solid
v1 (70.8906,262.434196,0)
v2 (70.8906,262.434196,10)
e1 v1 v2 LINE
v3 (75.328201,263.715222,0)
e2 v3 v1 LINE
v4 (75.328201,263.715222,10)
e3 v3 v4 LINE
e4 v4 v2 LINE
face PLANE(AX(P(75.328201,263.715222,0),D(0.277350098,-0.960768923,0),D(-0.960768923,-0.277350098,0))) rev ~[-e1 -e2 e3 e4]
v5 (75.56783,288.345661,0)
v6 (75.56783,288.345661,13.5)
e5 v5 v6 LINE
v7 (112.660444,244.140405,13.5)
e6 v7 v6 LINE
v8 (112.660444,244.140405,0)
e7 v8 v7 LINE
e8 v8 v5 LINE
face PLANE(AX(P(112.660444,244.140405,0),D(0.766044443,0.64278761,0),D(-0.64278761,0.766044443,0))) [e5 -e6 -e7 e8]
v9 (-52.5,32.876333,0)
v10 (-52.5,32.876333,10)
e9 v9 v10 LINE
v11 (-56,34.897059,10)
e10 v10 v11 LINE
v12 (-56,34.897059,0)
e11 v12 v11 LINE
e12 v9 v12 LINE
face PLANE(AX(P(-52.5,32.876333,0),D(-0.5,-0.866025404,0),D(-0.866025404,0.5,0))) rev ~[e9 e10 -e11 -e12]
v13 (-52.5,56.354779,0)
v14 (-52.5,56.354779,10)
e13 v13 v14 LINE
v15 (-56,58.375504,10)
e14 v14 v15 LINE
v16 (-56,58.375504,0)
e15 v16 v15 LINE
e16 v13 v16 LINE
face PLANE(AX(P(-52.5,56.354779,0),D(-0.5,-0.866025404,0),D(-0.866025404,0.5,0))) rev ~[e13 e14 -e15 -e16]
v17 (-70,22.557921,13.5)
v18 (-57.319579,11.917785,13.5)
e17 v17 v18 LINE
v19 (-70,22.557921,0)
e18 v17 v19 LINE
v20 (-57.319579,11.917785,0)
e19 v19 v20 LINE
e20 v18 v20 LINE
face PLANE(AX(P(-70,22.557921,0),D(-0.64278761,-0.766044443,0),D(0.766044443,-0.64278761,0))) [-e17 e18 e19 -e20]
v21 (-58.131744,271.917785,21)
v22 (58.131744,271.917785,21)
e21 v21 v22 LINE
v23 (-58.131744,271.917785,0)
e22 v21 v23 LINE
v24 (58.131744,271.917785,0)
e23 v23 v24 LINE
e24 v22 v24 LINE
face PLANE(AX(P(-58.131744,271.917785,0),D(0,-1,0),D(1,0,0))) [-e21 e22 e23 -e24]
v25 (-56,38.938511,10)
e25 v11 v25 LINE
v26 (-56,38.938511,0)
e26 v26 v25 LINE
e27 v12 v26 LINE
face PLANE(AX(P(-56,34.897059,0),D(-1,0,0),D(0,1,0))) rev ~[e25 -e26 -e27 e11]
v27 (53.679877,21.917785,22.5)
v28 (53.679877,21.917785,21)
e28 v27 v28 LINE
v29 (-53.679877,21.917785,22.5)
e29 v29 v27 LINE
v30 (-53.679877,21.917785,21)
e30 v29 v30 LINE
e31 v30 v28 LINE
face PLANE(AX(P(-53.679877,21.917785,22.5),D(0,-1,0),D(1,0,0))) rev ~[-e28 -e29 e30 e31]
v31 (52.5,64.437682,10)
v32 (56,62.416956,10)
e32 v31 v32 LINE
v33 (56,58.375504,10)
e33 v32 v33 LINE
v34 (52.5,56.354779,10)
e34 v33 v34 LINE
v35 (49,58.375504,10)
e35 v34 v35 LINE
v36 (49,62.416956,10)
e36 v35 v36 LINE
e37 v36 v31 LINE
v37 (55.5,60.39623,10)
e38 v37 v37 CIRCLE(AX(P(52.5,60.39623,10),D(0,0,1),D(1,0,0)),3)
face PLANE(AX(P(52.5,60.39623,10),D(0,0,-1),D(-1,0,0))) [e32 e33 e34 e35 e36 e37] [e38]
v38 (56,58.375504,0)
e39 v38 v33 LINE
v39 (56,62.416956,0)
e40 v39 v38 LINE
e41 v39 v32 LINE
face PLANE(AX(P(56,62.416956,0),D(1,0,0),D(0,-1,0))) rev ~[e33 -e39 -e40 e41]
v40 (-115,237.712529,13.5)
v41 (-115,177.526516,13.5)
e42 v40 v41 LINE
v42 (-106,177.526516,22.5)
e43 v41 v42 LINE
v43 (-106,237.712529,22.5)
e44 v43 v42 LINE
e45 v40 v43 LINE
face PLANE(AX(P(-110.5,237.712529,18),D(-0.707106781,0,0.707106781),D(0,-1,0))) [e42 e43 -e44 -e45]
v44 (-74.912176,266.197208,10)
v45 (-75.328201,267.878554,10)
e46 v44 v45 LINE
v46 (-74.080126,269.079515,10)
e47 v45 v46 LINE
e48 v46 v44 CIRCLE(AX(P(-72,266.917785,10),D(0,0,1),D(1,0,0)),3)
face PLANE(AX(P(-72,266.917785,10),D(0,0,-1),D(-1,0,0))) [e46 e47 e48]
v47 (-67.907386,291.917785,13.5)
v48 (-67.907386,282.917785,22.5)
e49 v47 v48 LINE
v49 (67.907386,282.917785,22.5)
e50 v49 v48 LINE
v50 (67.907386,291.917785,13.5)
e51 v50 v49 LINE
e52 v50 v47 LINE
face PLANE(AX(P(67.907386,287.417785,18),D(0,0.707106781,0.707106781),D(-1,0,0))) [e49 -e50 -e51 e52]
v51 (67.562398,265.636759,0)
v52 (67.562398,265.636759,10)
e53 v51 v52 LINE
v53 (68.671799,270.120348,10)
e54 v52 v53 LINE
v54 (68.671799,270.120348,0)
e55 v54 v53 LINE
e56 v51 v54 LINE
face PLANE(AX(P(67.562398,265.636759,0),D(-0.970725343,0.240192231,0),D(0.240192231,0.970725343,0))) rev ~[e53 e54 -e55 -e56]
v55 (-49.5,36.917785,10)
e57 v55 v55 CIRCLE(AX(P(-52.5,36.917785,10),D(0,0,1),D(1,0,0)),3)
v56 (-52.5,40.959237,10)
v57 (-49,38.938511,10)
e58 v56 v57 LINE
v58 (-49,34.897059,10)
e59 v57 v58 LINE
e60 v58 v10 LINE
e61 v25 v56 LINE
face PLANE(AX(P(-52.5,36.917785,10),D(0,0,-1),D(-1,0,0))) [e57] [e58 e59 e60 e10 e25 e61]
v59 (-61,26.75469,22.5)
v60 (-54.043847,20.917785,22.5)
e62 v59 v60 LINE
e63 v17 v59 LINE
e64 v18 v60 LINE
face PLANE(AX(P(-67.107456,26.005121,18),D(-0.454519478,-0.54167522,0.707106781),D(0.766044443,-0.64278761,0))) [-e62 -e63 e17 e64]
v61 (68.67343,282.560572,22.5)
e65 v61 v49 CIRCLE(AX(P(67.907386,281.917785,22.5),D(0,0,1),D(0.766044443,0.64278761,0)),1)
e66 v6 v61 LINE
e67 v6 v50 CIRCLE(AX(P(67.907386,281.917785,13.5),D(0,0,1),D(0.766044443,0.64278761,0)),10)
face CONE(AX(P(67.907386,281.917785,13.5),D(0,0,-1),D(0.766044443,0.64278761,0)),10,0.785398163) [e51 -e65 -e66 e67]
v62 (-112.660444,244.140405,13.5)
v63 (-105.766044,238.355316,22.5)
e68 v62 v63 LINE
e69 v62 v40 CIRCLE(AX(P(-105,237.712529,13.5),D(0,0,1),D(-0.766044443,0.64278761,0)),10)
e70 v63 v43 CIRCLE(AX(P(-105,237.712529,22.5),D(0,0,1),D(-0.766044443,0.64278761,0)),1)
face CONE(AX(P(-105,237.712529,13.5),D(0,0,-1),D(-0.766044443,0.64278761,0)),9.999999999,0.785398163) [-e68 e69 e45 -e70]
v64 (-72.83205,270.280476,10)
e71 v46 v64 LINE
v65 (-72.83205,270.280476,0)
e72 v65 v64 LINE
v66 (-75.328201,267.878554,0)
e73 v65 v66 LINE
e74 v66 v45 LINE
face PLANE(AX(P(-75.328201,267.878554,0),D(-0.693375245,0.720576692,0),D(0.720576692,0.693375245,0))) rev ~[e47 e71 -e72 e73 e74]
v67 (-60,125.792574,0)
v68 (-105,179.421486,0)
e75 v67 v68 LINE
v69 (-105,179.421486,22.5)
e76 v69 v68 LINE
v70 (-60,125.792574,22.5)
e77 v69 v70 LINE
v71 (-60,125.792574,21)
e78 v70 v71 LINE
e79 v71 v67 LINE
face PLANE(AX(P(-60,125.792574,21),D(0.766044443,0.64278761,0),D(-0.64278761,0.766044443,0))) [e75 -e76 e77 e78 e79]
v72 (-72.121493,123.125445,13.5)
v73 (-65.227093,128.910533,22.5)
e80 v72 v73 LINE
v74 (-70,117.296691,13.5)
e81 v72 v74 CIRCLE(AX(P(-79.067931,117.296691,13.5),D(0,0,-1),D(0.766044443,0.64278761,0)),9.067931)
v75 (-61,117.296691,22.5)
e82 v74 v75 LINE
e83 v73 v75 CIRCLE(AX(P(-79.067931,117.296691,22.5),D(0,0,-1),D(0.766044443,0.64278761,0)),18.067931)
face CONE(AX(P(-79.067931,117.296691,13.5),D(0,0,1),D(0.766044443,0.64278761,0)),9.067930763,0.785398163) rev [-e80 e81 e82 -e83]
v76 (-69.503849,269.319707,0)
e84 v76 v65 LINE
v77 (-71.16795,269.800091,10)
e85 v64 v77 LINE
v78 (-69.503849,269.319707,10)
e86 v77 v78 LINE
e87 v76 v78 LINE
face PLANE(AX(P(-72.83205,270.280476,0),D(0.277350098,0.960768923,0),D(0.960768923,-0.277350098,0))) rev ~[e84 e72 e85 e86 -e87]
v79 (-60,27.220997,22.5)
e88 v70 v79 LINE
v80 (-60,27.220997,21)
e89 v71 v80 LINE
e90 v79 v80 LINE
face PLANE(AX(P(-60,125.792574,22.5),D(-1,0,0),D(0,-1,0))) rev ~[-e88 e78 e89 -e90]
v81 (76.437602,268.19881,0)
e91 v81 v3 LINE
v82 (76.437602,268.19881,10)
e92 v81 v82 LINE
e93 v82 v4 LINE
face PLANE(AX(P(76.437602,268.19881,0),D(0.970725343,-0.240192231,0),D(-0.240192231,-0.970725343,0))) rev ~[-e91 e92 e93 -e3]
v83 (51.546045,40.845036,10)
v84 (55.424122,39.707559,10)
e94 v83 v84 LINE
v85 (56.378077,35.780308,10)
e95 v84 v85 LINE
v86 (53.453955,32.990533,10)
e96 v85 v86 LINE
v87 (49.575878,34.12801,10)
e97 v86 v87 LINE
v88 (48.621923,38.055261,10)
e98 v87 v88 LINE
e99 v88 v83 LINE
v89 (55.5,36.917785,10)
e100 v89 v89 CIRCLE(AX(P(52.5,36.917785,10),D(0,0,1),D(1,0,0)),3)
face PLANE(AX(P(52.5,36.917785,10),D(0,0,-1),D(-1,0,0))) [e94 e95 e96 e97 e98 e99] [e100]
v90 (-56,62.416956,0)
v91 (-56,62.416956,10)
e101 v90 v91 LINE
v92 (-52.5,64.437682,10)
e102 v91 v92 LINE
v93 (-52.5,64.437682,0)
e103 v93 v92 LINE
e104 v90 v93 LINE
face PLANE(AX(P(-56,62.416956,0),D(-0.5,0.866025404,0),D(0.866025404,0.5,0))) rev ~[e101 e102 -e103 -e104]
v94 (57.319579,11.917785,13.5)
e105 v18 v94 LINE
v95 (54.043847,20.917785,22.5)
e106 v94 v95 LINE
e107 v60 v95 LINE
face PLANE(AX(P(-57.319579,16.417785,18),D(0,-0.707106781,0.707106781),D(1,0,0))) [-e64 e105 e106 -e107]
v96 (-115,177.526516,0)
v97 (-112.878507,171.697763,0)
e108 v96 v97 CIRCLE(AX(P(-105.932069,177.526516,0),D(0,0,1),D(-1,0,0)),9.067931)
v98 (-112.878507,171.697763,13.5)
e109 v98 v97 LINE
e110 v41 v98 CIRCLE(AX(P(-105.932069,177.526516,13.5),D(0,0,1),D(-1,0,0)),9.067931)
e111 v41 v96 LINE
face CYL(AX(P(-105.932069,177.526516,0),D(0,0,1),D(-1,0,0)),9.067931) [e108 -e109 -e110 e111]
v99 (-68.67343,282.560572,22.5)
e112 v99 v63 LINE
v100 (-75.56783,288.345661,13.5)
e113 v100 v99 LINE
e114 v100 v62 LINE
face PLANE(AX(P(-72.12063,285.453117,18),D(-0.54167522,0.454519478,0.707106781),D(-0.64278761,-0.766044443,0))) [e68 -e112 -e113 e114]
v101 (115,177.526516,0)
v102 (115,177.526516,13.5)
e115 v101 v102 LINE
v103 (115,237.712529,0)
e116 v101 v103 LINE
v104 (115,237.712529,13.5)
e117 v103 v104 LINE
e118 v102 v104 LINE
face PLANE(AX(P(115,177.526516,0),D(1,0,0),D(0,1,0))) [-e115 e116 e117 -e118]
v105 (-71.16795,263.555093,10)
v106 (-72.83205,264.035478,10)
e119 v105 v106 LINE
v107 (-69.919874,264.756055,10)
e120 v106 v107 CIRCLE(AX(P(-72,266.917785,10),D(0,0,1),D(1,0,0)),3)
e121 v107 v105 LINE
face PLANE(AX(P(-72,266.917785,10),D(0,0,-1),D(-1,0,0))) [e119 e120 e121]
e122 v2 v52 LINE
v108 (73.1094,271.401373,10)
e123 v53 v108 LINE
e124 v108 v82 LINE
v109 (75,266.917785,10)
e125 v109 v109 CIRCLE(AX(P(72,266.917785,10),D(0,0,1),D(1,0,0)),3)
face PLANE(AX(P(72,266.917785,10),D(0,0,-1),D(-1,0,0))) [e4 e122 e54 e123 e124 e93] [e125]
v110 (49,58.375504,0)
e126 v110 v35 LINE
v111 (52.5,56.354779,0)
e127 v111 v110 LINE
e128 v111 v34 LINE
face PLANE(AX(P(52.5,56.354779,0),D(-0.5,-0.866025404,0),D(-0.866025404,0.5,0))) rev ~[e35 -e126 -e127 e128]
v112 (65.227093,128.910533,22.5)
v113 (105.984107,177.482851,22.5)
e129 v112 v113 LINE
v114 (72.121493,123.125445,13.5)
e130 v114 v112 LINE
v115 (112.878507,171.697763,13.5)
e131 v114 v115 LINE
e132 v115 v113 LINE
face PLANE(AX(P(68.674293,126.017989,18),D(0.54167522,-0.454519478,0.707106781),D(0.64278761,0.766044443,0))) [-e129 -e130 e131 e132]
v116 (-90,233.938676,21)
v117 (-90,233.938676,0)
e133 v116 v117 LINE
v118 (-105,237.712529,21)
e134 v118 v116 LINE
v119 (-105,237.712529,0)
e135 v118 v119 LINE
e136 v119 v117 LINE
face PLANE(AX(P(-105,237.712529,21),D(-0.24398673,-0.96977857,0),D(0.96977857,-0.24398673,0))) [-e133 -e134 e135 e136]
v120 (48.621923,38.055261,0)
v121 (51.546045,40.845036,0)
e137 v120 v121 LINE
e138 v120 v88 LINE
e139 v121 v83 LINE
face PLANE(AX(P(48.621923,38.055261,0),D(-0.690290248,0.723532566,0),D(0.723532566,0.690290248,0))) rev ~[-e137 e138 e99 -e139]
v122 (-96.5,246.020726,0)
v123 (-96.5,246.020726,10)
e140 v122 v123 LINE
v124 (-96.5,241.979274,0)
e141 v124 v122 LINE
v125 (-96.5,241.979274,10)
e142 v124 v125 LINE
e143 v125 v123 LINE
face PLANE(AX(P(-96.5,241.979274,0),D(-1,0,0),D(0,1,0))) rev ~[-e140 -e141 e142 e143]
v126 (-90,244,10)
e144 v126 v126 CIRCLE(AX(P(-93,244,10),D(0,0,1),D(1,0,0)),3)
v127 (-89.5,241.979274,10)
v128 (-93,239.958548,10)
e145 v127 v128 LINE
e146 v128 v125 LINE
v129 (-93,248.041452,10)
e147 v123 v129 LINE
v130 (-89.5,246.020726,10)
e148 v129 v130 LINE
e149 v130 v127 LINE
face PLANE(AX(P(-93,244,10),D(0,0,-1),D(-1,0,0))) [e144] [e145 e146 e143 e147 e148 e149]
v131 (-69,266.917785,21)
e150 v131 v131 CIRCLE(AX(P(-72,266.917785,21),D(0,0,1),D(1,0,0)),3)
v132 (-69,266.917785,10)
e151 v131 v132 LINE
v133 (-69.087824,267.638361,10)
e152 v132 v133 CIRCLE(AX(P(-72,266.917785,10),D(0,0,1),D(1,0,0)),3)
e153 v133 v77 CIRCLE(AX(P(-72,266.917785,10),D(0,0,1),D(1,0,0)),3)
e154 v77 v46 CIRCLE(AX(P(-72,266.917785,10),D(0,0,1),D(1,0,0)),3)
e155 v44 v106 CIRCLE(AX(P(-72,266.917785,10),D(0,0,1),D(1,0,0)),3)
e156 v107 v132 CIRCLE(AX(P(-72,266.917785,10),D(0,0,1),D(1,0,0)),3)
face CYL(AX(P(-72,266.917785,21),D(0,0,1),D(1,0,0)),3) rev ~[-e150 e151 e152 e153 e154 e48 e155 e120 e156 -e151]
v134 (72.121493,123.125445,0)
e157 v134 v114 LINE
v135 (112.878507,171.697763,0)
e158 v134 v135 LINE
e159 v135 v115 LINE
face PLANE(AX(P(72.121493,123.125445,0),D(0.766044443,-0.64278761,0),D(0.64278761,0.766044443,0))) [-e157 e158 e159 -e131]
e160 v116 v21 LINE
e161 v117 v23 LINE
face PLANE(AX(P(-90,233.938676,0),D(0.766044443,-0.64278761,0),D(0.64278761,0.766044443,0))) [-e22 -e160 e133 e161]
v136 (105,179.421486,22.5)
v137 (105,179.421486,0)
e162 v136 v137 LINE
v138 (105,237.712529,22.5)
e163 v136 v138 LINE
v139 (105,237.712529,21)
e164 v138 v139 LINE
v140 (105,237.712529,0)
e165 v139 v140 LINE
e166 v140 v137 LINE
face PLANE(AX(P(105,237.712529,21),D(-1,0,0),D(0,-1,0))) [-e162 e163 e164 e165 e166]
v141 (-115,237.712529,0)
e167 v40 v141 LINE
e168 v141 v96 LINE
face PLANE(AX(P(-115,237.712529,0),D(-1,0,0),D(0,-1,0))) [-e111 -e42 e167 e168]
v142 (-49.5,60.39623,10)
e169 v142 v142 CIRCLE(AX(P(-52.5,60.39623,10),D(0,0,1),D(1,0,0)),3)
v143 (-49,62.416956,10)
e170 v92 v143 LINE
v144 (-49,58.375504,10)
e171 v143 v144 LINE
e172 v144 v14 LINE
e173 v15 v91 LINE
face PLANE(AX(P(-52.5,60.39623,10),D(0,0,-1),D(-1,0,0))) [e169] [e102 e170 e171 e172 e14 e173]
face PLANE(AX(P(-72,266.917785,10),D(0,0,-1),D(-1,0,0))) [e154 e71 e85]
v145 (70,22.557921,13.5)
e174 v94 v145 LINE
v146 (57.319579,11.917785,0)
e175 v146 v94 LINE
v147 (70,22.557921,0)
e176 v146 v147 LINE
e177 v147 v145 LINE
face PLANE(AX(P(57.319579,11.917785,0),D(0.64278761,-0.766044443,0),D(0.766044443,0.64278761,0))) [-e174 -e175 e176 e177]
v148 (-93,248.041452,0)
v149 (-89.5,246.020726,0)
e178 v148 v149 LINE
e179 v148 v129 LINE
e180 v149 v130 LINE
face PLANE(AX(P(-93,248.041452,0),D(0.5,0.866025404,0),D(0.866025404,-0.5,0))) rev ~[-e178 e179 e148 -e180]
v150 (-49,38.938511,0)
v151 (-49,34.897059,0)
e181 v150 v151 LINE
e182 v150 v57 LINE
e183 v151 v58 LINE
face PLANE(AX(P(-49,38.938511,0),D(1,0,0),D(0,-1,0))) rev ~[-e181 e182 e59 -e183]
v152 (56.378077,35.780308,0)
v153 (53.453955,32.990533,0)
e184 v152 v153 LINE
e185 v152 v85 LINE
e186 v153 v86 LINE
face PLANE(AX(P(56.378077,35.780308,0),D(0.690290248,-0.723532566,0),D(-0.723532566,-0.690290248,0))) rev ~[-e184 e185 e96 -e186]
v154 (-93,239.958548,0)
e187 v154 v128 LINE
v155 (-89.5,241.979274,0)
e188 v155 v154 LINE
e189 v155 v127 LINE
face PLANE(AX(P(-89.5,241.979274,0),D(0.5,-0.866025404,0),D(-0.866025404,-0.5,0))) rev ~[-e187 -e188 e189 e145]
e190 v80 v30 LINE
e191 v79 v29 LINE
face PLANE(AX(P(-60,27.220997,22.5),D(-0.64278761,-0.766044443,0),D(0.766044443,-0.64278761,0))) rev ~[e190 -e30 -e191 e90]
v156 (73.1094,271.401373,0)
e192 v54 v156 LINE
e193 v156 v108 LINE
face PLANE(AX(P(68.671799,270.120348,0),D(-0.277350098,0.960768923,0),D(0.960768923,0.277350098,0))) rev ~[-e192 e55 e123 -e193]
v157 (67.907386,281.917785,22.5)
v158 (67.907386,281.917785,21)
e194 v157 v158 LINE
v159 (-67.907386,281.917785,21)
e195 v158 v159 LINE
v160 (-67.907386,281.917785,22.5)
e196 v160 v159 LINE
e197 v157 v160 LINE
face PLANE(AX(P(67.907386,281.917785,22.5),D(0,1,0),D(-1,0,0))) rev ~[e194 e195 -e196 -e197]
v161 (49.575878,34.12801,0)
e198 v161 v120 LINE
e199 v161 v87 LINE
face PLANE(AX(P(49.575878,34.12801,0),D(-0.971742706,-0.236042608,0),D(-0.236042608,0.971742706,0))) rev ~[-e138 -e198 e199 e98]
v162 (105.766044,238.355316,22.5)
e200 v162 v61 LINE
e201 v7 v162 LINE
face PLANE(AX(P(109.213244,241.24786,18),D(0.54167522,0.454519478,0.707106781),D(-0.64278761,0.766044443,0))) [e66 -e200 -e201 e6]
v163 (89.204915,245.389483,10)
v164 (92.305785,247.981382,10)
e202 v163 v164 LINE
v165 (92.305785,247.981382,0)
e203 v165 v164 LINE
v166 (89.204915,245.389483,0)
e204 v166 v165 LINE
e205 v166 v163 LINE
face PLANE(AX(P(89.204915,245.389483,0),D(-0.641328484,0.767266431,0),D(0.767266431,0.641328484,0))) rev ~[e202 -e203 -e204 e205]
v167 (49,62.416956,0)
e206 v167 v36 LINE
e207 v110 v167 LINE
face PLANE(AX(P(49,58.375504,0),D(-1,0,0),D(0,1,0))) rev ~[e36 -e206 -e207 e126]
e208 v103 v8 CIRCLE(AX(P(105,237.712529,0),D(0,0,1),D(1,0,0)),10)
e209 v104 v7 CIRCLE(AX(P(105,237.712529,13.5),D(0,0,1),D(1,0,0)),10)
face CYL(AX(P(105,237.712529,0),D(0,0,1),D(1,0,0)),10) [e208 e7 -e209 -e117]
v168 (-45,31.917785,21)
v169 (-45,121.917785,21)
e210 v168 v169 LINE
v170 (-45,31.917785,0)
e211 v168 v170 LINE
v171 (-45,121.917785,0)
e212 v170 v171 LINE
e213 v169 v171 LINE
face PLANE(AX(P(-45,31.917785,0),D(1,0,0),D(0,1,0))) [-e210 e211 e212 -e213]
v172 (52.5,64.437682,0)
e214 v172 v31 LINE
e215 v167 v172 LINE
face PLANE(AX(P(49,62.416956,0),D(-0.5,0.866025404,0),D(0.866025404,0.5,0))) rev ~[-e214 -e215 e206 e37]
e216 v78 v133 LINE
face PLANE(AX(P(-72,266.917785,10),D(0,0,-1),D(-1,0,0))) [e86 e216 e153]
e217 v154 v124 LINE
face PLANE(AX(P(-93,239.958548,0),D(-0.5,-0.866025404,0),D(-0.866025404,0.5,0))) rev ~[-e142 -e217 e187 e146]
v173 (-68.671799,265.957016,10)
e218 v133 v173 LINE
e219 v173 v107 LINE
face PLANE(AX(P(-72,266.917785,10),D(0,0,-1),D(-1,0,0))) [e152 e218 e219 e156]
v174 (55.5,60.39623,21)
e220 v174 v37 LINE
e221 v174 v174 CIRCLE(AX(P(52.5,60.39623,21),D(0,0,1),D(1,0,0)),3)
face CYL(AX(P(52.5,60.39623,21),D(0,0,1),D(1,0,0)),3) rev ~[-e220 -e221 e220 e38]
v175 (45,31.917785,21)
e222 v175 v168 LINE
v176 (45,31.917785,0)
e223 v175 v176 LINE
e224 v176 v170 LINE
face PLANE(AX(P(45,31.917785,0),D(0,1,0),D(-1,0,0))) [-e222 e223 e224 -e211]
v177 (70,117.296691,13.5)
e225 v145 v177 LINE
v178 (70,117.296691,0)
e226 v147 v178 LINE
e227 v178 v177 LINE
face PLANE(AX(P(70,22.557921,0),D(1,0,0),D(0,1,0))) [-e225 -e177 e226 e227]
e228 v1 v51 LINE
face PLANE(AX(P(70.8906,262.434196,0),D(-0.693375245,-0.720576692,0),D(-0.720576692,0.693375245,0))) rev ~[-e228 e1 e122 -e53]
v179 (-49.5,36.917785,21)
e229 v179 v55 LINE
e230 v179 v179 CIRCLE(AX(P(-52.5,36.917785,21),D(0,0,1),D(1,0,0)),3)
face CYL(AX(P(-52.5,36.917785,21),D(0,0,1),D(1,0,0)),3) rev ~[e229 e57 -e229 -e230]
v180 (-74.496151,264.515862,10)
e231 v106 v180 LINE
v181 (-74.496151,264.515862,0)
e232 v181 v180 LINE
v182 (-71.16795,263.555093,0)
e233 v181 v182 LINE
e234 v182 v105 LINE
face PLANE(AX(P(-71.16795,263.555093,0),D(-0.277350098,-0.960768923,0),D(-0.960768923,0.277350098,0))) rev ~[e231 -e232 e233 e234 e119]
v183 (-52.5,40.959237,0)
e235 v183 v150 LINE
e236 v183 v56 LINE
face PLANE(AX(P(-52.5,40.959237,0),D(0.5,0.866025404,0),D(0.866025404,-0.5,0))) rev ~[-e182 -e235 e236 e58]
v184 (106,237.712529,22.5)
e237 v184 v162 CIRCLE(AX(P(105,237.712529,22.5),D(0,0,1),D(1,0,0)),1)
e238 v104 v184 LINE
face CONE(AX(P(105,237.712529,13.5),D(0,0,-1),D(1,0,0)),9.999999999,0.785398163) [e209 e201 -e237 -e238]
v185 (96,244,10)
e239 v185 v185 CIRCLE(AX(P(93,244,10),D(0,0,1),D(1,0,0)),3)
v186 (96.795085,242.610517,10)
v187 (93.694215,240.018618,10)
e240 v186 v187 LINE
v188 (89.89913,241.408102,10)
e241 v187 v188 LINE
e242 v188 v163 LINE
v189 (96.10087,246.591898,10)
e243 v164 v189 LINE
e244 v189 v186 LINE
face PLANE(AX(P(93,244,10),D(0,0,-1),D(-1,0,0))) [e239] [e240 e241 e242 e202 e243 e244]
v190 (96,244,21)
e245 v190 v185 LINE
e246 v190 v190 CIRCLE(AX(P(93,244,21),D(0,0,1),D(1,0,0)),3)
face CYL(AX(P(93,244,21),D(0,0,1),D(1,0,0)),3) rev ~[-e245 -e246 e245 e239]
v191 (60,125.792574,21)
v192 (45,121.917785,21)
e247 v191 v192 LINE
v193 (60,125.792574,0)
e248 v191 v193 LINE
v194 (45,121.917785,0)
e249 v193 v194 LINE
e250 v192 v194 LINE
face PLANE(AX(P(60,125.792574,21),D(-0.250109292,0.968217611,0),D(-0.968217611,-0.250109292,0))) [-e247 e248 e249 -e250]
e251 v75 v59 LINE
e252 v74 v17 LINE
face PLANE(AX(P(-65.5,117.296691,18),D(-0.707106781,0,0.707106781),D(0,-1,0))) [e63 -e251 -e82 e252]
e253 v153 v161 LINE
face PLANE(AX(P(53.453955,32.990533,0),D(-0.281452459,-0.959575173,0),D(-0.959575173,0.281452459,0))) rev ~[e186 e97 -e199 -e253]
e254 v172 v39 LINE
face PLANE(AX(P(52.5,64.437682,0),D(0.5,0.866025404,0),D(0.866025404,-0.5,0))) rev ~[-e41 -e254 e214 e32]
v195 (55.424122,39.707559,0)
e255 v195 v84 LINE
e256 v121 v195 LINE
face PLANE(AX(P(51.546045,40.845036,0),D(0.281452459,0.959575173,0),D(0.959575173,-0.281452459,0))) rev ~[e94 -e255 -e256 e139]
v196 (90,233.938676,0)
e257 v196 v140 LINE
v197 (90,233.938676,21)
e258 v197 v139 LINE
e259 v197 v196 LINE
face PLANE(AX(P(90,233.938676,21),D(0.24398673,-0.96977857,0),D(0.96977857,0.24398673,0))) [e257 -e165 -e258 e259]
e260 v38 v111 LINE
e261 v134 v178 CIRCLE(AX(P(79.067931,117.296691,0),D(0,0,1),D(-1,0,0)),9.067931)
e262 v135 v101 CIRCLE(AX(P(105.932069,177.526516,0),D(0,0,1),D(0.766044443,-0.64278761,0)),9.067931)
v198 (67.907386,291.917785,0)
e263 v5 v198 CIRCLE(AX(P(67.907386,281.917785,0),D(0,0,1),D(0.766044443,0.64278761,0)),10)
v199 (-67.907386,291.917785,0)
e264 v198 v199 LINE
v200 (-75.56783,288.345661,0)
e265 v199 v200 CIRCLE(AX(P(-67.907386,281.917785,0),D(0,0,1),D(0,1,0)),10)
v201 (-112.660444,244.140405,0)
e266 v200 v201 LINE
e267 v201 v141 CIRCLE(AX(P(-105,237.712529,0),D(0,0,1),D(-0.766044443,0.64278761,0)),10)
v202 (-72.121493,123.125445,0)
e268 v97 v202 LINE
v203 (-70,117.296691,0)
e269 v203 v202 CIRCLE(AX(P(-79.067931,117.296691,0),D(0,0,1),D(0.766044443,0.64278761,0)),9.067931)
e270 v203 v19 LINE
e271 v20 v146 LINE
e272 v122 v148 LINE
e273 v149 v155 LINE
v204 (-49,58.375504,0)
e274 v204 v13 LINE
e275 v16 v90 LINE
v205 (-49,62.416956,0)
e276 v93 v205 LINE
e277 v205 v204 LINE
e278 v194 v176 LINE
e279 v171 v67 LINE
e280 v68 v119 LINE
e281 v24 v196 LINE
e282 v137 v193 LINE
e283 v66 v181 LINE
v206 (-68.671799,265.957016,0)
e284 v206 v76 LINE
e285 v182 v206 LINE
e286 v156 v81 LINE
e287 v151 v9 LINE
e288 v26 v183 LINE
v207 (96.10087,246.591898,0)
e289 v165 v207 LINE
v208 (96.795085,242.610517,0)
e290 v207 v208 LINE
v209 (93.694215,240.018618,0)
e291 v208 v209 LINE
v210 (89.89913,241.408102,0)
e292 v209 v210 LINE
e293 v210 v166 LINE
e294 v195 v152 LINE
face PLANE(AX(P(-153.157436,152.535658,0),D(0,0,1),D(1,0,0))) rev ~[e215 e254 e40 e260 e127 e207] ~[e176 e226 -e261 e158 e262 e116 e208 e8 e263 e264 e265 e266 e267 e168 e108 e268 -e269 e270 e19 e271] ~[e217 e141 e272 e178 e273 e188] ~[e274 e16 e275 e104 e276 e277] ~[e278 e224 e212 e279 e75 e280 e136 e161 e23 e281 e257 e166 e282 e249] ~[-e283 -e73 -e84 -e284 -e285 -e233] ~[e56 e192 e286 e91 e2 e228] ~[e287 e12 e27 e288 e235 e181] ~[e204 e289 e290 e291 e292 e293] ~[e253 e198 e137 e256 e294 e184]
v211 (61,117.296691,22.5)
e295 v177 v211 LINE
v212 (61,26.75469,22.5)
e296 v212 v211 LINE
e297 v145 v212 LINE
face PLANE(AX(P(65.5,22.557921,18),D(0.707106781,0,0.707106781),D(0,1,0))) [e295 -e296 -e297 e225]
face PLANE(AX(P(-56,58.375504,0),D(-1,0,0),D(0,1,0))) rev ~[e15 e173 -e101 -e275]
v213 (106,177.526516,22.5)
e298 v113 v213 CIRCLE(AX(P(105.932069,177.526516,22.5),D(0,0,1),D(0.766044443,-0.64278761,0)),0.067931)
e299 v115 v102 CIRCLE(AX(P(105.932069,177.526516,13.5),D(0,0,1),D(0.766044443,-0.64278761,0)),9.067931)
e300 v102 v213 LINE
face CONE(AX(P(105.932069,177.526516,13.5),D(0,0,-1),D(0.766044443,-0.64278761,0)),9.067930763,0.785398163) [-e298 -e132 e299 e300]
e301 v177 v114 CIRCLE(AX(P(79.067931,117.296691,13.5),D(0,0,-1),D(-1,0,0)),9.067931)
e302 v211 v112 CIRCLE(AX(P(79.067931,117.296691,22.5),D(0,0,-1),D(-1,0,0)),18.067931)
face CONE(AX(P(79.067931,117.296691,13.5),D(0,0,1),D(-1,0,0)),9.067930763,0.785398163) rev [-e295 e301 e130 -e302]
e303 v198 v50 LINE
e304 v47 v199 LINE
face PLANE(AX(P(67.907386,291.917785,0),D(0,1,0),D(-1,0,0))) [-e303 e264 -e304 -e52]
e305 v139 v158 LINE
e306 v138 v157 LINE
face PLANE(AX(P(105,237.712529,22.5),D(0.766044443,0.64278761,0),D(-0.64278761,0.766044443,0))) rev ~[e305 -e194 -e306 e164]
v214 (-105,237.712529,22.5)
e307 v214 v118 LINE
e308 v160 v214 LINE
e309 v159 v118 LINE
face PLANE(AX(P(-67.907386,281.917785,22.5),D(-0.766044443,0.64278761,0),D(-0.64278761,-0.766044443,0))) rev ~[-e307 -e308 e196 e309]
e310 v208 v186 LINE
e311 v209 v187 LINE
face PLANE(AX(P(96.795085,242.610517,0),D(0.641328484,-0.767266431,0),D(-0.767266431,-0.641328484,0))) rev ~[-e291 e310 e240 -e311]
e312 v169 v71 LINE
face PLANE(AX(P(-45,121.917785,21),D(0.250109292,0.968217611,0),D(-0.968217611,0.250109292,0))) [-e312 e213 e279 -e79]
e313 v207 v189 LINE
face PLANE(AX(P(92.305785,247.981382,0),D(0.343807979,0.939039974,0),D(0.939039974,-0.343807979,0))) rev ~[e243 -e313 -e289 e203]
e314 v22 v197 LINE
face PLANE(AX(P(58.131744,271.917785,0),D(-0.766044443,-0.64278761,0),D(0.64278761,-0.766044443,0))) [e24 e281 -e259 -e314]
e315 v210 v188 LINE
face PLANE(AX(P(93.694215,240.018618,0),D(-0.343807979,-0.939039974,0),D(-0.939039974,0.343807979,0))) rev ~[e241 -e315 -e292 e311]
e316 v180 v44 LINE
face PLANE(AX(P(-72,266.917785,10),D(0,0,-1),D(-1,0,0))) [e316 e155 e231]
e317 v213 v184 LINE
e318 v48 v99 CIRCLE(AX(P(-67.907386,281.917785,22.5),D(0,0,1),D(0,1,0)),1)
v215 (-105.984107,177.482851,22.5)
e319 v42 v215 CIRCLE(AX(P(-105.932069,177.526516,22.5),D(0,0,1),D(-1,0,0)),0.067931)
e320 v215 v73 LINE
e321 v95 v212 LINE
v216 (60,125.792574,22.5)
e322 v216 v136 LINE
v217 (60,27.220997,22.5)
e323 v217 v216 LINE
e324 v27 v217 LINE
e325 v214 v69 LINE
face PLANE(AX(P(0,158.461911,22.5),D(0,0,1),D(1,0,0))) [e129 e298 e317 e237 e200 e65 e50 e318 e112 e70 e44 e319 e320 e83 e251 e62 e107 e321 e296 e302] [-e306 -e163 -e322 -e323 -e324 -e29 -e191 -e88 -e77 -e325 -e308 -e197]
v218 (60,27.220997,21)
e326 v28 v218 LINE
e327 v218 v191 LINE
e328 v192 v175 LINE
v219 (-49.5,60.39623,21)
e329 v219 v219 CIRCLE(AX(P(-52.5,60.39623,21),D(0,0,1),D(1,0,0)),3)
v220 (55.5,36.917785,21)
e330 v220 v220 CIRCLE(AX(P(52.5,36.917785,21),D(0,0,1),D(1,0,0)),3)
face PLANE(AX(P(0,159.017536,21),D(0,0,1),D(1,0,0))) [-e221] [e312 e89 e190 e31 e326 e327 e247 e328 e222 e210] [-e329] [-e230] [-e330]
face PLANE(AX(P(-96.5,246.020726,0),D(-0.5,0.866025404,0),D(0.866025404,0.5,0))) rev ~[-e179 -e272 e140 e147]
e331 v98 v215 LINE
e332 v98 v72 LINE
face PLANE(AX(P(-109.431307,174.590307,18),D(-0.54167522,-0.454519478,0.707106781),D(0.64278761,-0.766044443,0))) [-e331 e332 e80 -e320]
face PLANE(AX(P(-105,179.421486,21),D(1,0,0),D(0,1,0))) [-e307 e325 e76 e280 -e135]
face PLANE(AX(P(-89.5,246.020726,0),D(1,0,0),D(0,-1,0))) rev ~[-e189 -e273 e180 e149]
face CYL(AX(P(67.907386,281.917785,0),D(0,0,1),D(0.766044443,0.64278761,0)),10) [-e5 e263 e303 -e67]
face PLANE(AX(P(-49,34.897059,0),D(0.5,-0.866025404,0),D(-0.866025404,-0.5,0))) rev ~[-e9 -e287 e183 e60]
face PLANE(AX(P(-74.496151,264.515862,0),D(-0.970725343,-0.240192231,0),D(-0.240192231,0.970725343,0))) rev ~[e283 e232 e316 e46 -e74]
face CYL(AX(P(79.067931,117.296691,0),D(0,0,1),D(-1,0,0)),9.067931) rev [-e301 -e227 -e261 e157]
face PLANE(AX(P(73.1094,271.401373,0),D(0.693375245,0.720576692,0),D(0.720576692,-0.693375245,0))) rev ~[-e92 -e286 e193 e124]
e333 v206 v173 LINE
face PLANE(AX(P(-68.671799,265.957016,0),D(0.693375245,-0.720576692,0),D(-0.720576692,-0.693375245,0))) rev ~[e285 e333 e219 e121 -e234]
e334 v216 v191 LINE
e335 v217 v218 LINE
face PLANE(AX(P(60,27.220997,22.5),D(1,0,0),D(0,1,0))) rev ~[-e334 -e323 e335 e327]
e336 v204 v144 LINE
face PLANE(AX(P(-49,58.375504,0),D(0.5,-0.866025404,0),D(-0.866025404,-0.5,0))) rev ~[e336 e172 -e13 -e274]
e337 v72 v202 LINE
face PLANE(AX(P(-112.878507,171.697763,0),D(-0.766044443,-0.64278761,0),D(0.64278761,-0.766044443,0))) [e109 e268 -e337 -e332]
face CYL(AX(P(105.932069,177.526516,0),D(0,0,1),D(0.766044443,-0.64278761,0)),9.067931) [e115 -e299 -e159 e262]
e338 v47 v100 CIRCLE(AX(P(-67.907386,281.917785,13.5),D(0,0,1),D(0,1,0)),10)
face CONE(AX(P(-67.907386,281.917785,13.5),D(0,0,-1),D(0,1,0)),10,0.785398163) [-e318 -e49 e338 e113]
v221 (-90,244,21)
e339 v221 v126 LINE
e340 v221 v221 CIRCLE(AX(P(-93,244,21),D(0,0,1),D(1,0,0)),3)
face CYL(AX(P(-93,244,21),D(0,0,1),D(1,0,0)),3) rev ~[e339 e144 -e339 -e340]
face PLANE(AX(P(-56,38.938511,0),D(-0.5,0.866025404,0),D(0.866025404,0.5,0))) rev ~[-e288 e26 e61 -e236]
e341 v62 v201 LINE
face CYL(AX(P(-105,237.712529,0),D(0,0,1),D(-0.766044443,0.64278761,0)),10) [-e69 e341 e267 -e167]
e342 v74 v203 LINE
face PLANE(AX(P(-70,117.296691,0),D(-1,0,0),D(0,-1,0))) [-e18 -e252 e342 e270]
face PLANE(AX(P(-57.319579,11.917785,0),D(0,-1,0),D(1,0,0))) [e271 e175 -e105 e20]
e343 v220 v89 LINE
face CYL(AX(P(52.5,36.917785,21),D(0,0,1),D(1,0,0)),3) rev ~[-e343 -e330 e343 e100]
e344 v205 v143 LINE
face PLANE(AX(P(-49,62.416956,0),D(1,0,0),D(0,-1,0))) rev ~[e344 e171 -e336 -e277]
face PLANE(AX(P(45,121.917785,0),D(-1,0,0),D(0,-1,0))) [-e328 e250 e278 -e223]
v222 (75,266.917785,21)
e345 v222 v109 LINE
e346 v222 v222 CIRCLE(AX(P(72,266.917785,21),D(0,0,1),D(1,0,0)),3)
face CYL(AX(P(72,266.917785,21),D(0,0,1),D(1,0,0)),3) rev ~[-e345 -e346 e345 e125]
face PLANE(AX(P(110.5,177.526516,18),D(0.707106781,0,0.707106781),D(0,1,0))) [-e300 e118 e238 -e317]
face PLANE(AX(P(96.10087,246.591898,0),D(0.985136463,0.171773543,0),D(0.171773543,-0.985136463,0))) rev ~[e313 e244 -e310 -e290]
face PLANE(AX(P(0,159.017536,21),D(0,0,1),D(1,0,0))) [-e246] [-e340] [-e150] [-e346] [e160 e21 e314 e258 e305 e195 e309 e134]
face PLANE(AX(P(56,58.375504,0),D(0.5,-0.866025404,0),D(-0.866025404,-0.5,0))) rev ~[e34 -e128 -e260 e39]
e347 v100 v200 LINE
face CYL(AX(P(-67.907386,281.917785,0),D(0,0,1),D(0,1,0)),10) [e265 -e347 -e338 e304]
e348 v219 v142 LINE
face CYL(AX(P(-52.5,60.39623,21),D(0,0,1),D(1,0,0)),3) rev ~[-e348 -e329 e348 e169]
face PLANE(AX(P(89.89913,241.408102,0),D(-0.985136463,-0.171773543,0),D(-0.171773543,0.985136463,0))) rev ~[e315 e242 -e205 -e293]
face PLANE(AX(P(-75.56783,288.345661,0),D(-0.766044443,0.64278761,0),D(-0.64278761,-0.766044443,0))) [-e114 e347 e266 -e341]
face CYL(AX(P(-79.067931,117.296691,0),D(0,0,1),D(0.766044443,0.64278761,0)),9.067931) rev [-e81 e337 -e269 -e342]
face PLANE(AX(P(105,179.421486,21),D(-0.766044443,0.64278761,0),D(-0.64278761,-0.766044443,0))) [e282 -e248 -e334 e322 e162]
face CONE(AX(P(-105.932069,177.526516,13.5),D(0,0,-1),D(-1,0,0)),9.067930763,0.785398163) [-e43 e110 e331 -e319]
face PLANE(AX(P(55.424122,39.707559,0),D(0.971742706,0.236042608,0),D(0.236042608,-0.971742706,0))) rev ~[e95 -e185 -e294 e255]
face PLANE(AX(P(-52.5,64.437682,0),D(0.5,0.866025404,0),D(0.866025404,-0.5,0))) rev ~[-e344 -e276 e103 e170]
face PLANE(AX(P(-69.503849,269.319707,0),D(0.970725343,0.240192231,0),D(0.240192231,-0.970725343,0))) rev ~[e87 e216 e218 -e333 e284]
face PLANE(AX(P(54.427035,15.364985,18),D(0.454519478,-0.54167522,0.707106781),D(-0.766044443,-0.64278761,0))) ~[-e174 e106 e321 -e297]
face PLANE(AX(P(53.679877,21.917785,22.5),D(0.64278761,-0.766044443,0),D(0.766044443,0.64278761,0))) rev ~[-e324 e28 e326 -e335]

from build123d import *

# Parameters (mm, degrees)
RESSALTO_EXTRUS_O1_DEPTH = 22.5
CHANFRO1_SIZE            = 9
CORTE_EXTRUS_O1_REACH    = 24.5
ESBO_O3_W                = 1139.230904301
ESBO_O3_H                = 709.798033895
CORTE_EXTRUS_O5_DEPTH    = 1.5
ESBO_O5_R                = 3
CORTE_EXTRUS_O6_DEPTH    = 22
CORTE_EXTRUS_O8_DEPTH    = 10
CORTE_EXTRUS_O9_DEPTH    = 22


with BuildPart() as part:
    # Esboço1 → Ressalto-extrusão1 (new body, symmetric)
    with BuildSketch(Plane.XY):
        with BuildLine():
            Line((-57.319579452, 11.917784657), (57.319579452, 11.917784657))
            Line((57.319579452, 11.917784657), (70, 22.557920862))
            Line((70, 22.557920862), (70, 117.296691049))
            ThreePointArc((70, 117.296691049), (70.546863139, 120.39810603), (72.121492792, 123.125444592))
            Line((72.121492792, 123.125444592), (112.878507208, 171.697762944))
            ThreePointArc((112.878507208, 171.697762944), (114.453136861, 174.425101506), (115, 177.526516487))
            Line((115, 177.526516487), (115, 237.712528581))
            ThreePointArc((115, 237.712528581), (114.396926208, 241.132730014), (112.660444431, 244.140404678))
            Line((112.660444431, 244.140404678), (75.567830361, 288.345660754))
            ThreePointArc((75.567830361, 288.345660754), (72.133568548, 290.980862527), (67.90738593, 291.917784657))
            Line((67.90738593, 291.917784657), (-67.90738593, 291.917784657))
            ThreePointArc((-67.90738593, 291.917784657), (-72.133568548, 290.980862527), (-75.567830361, 288.345660754))
            Line((-75.567830361, 288.345660754), (-112.660444431, 244.140404678))
            ThreePointArc((-112.660444431, 244.140404678), (-114.396926208, 241.132730014), (-115, 237.712528581))
            Line((-115, 237.712528581), (-115, 177.526516487))
            ThreePointArc((-115, 177.526516487), (-114.453136861, 174.425101506), (-112.878507208, 171.697762944))
            Line((-112.878507208, 171.697762944), (-72.121492792, 123.125444592))
            ThreePointArc((-72.121492792, 123.125444592), (-70.546863139, 120.39810603), (-70, 117.296691049))
            Line((-70, 117.296691049), (-70, 22.557920862))
            Line((-70, 22.557920862), (-57.319579452, 11.917784657))
        make_face()
        Polygon((-90, 175.546696324), (-90, 233.938676426), (-58.131744291, 271.917784657), (58.131744291, 271.917784657), (90, 233.938676426), (90, 175.546696324), (45, 121.917784657), (45, 31.917784657), (-45, 31.917784657), (-45, 121.917784657), align=None, mode=Mode.SUBTRACT)
    extrude(amount=RESSALTO_EXTRUS_O1_DEPTH, both=True)

    # Chanfro1
    chanfro1_edges = [part.edges().sort_by_distance(p)[0] for p in [
        (70, 69.927305955, 22.5),
        (70.546863139, 120.39810603, 22.5),
        (92.5, 147.411603768, 22.5),
        (114.453136861, 174.425101506, 22.5),
        (115, 207.619522534, 22.5),
        (114.396926208, 241.132730014, 22.5),
        (94.114137396, 266.243032716, 22.5),
        (72.133568548, 290.980862527, 22.5),
        (0, 291.917784657, 22.5),
        (-72.133568548, 290.980862527, 22.5),
        (-94.114137396, 266.243032716, 22.5),
        (-114.396926208, 241.132730014, 22.5),
        (-115, 207.619522534, 22.5),
        (-114.453136861, 174.425101506, 22.5),
        (-92.5, 147.411603768, 22.5),
        (-70.546863139, 120.39810603, 22.5),
        (-70, 69.927305955, 22.5),
        (-63.659789726, 17.23785276, 22.5),
        (0, 11.917784657, 22.5),
        (63.659789726, 17.23785276, 22.5),
    ]]
    chamfer(chanfro1_edges, length=CHANFRO1_SIZE)

    # Esboço3 → Corte-extrusão1 (cut, up to next)
    with BuildSketch(Plane.XY, mode=Mode.PRIVATE) as corte_extrus_o1_sk1:
        with Locations((-153.157436203, 152.53565808)):
            Rectangle(ESBO_O3_W, ESBO_O3_H)
    corte_extrus_o1_tool1 = extrude(corte_extrus_o1_sk1.sketch, amount=-CORTE_EXTRUS_O1_REACH, mode=Mode.PRIVATE) & part.part
    add(corte_extrus_o1_tool1.solids().sort_by_distance((-153.157436, 152.535658, 0))[0], mode=Mode.SUBTRACT)

    # Esboço4 → Corte-extrusão5 (cut)
    with BuildSketch(Plane.XY.offset(22.5)):
        Polygon((-60, 27.220997444), (-53.679877109, 21.917784657), (53.679877109, 21.917784657), (60, 27.220997444), (60, 125.792574104), (105, 179.421485771), (105, 237.712528581), (67.90738593, 281.917784657), (-67.90738593, 281.917784657), (-105, 237.712528581), (-105, 179.421485771), (-60, 125.792574104), align=None)
        Polygon((-90, 175.546696324), (-90, 233.938676426), (-58.131744291, 271.917784657), (58.131744291, 271.917784657), (90, 233.938676426), (90, 175.546696324), (45, 121.917784657), (45, 31.917784657), (-45, 31.917784657), (-45, 121.917784657), align=None, mode=Mode.SUBTRACT)
    extrude(amount=-CORTE_EXTRUS_O5_DEPTH, mode=Mode.SUBTRACT)

    # Esboço5 → Corte-extrusão6 (cut, through all)
    with BuildSketch(Plane.XY.offset(21)):
        with Locations((-93, 244)):
            Circle(ESBO_O5_R)
        with Locations((-52.5, 60.396230411)):
            Circle(ESBO_O5_R)
        with Locations((-72, 266.917784657)):
            Circle(ESBO_O5_R)
        with Locations((-52.5, 36.917784657)):
            Circle(ESBO_O5_R)
        with Locations((52.5, 36.917784657)):
            Circle(ESBO_O5_R)
        with Locations((72, 266.917784657)):
            Circle(ESBO_O5_R)
        with Locations((52.5, 60.396230411)):
            Circle(ESBO_O5_R)
        with Locations((93, 244)):
            Circle(ESBO_O5_R)
    extrude(amount=-CORTE_EXTRUS_O6_DEPTH, mode=Mode.SUBTRACT)

    # Esboço7 → Corte-extrusão8 (cut)
    with BuildSketch(Plane(origin=(0, 0, 0), x_dir=(-1, 0, 0), z_dir=(0, 0, -1))):
        Polygon((-73.109400392, 271.401372964), (-76.43760157, 268.198809887), (-75.328201177, 263.715221581), (-70.890599608, 262.434196351), (-67.56239843, 265.636759427), (-68.671798823, 270.120347733), align=None)
        Polygon((-92.305785489, 247.981381613), (-96.100870363, 246.591898209), (-96.795084874, 242.610516596), (-93.694214511, 240.018618387), (-89.899129637, 241.408101791), (-89.204915126, 245.389483404), align=None)
        Polygon((93, 248.041451884), (89.5, 246.020725942), (89.5, 241.979274058), (93, 239.958548116), (96.5, 241.979274058), (96.5, 246.020725942), align=None)
        Polygon((72.832050294, 270.280475887), (69.503849117, 269.319706964), (68.671798823, 265.957015734), (71.167949706, 263.555093427), (74.496150883, 264.51586235), (75.328201177, 267.87855358), align=None)
        Polygon((-52.5, 64.437682295), (-56, 62.416956353), (-56, 58.375504468), (-52.5, 56.354778526), (-49, 58.375504468), (-49, 62.416956353), align=None)
        Polygon((52.5, 64.437682295), (49, 62.416956353), (49, 58.375504468), (52.5, 56.354778526), (56, 58.375504468), (56, 62.416956353), align=None)
        Polygon((52.5, 40.959236541), (49, 38.938510599), (49, 34.897058715), (52.5, 32.876332773), (56, 34.897058715), (56, 38.938510599), align=None)
        Polygon((-51.54604516, 40.845036049), (-55.424122052, 39.707559479), (-56.378076893, 35.780308087), (-53.45395484, 32.990533265), (-49.575877948, 34.128009835), (-48.621923107, 38.055261227), align=None)
    extrude(amount=-CORTE_EXTRUS_O8_DEPTH, mode=Mode.SUBTRACT)

    # Esboço8 → Corte-extrusão9 (cut, through all)
    with BuildSketch(Plane.XY.offset(21)):
        Polygon((-105, 237.712528581), (-90, 233.938676426), (-90, 175.546696324), (-45, 121.917784657), (-60, 125.792574104), (-105, 179.421485771), align=None)
        Polygon((90, 233.938676426), (105, 237.712528581), (105, 179.421485771), (60, 125.792574104), (45, 121.917784657), (90, 175.546696324), align=None)
    extrude(amount=-CORTE_EXTRUS_O9_DEPTH, mode=Mode.SUBTRACT)


solid = part.part
